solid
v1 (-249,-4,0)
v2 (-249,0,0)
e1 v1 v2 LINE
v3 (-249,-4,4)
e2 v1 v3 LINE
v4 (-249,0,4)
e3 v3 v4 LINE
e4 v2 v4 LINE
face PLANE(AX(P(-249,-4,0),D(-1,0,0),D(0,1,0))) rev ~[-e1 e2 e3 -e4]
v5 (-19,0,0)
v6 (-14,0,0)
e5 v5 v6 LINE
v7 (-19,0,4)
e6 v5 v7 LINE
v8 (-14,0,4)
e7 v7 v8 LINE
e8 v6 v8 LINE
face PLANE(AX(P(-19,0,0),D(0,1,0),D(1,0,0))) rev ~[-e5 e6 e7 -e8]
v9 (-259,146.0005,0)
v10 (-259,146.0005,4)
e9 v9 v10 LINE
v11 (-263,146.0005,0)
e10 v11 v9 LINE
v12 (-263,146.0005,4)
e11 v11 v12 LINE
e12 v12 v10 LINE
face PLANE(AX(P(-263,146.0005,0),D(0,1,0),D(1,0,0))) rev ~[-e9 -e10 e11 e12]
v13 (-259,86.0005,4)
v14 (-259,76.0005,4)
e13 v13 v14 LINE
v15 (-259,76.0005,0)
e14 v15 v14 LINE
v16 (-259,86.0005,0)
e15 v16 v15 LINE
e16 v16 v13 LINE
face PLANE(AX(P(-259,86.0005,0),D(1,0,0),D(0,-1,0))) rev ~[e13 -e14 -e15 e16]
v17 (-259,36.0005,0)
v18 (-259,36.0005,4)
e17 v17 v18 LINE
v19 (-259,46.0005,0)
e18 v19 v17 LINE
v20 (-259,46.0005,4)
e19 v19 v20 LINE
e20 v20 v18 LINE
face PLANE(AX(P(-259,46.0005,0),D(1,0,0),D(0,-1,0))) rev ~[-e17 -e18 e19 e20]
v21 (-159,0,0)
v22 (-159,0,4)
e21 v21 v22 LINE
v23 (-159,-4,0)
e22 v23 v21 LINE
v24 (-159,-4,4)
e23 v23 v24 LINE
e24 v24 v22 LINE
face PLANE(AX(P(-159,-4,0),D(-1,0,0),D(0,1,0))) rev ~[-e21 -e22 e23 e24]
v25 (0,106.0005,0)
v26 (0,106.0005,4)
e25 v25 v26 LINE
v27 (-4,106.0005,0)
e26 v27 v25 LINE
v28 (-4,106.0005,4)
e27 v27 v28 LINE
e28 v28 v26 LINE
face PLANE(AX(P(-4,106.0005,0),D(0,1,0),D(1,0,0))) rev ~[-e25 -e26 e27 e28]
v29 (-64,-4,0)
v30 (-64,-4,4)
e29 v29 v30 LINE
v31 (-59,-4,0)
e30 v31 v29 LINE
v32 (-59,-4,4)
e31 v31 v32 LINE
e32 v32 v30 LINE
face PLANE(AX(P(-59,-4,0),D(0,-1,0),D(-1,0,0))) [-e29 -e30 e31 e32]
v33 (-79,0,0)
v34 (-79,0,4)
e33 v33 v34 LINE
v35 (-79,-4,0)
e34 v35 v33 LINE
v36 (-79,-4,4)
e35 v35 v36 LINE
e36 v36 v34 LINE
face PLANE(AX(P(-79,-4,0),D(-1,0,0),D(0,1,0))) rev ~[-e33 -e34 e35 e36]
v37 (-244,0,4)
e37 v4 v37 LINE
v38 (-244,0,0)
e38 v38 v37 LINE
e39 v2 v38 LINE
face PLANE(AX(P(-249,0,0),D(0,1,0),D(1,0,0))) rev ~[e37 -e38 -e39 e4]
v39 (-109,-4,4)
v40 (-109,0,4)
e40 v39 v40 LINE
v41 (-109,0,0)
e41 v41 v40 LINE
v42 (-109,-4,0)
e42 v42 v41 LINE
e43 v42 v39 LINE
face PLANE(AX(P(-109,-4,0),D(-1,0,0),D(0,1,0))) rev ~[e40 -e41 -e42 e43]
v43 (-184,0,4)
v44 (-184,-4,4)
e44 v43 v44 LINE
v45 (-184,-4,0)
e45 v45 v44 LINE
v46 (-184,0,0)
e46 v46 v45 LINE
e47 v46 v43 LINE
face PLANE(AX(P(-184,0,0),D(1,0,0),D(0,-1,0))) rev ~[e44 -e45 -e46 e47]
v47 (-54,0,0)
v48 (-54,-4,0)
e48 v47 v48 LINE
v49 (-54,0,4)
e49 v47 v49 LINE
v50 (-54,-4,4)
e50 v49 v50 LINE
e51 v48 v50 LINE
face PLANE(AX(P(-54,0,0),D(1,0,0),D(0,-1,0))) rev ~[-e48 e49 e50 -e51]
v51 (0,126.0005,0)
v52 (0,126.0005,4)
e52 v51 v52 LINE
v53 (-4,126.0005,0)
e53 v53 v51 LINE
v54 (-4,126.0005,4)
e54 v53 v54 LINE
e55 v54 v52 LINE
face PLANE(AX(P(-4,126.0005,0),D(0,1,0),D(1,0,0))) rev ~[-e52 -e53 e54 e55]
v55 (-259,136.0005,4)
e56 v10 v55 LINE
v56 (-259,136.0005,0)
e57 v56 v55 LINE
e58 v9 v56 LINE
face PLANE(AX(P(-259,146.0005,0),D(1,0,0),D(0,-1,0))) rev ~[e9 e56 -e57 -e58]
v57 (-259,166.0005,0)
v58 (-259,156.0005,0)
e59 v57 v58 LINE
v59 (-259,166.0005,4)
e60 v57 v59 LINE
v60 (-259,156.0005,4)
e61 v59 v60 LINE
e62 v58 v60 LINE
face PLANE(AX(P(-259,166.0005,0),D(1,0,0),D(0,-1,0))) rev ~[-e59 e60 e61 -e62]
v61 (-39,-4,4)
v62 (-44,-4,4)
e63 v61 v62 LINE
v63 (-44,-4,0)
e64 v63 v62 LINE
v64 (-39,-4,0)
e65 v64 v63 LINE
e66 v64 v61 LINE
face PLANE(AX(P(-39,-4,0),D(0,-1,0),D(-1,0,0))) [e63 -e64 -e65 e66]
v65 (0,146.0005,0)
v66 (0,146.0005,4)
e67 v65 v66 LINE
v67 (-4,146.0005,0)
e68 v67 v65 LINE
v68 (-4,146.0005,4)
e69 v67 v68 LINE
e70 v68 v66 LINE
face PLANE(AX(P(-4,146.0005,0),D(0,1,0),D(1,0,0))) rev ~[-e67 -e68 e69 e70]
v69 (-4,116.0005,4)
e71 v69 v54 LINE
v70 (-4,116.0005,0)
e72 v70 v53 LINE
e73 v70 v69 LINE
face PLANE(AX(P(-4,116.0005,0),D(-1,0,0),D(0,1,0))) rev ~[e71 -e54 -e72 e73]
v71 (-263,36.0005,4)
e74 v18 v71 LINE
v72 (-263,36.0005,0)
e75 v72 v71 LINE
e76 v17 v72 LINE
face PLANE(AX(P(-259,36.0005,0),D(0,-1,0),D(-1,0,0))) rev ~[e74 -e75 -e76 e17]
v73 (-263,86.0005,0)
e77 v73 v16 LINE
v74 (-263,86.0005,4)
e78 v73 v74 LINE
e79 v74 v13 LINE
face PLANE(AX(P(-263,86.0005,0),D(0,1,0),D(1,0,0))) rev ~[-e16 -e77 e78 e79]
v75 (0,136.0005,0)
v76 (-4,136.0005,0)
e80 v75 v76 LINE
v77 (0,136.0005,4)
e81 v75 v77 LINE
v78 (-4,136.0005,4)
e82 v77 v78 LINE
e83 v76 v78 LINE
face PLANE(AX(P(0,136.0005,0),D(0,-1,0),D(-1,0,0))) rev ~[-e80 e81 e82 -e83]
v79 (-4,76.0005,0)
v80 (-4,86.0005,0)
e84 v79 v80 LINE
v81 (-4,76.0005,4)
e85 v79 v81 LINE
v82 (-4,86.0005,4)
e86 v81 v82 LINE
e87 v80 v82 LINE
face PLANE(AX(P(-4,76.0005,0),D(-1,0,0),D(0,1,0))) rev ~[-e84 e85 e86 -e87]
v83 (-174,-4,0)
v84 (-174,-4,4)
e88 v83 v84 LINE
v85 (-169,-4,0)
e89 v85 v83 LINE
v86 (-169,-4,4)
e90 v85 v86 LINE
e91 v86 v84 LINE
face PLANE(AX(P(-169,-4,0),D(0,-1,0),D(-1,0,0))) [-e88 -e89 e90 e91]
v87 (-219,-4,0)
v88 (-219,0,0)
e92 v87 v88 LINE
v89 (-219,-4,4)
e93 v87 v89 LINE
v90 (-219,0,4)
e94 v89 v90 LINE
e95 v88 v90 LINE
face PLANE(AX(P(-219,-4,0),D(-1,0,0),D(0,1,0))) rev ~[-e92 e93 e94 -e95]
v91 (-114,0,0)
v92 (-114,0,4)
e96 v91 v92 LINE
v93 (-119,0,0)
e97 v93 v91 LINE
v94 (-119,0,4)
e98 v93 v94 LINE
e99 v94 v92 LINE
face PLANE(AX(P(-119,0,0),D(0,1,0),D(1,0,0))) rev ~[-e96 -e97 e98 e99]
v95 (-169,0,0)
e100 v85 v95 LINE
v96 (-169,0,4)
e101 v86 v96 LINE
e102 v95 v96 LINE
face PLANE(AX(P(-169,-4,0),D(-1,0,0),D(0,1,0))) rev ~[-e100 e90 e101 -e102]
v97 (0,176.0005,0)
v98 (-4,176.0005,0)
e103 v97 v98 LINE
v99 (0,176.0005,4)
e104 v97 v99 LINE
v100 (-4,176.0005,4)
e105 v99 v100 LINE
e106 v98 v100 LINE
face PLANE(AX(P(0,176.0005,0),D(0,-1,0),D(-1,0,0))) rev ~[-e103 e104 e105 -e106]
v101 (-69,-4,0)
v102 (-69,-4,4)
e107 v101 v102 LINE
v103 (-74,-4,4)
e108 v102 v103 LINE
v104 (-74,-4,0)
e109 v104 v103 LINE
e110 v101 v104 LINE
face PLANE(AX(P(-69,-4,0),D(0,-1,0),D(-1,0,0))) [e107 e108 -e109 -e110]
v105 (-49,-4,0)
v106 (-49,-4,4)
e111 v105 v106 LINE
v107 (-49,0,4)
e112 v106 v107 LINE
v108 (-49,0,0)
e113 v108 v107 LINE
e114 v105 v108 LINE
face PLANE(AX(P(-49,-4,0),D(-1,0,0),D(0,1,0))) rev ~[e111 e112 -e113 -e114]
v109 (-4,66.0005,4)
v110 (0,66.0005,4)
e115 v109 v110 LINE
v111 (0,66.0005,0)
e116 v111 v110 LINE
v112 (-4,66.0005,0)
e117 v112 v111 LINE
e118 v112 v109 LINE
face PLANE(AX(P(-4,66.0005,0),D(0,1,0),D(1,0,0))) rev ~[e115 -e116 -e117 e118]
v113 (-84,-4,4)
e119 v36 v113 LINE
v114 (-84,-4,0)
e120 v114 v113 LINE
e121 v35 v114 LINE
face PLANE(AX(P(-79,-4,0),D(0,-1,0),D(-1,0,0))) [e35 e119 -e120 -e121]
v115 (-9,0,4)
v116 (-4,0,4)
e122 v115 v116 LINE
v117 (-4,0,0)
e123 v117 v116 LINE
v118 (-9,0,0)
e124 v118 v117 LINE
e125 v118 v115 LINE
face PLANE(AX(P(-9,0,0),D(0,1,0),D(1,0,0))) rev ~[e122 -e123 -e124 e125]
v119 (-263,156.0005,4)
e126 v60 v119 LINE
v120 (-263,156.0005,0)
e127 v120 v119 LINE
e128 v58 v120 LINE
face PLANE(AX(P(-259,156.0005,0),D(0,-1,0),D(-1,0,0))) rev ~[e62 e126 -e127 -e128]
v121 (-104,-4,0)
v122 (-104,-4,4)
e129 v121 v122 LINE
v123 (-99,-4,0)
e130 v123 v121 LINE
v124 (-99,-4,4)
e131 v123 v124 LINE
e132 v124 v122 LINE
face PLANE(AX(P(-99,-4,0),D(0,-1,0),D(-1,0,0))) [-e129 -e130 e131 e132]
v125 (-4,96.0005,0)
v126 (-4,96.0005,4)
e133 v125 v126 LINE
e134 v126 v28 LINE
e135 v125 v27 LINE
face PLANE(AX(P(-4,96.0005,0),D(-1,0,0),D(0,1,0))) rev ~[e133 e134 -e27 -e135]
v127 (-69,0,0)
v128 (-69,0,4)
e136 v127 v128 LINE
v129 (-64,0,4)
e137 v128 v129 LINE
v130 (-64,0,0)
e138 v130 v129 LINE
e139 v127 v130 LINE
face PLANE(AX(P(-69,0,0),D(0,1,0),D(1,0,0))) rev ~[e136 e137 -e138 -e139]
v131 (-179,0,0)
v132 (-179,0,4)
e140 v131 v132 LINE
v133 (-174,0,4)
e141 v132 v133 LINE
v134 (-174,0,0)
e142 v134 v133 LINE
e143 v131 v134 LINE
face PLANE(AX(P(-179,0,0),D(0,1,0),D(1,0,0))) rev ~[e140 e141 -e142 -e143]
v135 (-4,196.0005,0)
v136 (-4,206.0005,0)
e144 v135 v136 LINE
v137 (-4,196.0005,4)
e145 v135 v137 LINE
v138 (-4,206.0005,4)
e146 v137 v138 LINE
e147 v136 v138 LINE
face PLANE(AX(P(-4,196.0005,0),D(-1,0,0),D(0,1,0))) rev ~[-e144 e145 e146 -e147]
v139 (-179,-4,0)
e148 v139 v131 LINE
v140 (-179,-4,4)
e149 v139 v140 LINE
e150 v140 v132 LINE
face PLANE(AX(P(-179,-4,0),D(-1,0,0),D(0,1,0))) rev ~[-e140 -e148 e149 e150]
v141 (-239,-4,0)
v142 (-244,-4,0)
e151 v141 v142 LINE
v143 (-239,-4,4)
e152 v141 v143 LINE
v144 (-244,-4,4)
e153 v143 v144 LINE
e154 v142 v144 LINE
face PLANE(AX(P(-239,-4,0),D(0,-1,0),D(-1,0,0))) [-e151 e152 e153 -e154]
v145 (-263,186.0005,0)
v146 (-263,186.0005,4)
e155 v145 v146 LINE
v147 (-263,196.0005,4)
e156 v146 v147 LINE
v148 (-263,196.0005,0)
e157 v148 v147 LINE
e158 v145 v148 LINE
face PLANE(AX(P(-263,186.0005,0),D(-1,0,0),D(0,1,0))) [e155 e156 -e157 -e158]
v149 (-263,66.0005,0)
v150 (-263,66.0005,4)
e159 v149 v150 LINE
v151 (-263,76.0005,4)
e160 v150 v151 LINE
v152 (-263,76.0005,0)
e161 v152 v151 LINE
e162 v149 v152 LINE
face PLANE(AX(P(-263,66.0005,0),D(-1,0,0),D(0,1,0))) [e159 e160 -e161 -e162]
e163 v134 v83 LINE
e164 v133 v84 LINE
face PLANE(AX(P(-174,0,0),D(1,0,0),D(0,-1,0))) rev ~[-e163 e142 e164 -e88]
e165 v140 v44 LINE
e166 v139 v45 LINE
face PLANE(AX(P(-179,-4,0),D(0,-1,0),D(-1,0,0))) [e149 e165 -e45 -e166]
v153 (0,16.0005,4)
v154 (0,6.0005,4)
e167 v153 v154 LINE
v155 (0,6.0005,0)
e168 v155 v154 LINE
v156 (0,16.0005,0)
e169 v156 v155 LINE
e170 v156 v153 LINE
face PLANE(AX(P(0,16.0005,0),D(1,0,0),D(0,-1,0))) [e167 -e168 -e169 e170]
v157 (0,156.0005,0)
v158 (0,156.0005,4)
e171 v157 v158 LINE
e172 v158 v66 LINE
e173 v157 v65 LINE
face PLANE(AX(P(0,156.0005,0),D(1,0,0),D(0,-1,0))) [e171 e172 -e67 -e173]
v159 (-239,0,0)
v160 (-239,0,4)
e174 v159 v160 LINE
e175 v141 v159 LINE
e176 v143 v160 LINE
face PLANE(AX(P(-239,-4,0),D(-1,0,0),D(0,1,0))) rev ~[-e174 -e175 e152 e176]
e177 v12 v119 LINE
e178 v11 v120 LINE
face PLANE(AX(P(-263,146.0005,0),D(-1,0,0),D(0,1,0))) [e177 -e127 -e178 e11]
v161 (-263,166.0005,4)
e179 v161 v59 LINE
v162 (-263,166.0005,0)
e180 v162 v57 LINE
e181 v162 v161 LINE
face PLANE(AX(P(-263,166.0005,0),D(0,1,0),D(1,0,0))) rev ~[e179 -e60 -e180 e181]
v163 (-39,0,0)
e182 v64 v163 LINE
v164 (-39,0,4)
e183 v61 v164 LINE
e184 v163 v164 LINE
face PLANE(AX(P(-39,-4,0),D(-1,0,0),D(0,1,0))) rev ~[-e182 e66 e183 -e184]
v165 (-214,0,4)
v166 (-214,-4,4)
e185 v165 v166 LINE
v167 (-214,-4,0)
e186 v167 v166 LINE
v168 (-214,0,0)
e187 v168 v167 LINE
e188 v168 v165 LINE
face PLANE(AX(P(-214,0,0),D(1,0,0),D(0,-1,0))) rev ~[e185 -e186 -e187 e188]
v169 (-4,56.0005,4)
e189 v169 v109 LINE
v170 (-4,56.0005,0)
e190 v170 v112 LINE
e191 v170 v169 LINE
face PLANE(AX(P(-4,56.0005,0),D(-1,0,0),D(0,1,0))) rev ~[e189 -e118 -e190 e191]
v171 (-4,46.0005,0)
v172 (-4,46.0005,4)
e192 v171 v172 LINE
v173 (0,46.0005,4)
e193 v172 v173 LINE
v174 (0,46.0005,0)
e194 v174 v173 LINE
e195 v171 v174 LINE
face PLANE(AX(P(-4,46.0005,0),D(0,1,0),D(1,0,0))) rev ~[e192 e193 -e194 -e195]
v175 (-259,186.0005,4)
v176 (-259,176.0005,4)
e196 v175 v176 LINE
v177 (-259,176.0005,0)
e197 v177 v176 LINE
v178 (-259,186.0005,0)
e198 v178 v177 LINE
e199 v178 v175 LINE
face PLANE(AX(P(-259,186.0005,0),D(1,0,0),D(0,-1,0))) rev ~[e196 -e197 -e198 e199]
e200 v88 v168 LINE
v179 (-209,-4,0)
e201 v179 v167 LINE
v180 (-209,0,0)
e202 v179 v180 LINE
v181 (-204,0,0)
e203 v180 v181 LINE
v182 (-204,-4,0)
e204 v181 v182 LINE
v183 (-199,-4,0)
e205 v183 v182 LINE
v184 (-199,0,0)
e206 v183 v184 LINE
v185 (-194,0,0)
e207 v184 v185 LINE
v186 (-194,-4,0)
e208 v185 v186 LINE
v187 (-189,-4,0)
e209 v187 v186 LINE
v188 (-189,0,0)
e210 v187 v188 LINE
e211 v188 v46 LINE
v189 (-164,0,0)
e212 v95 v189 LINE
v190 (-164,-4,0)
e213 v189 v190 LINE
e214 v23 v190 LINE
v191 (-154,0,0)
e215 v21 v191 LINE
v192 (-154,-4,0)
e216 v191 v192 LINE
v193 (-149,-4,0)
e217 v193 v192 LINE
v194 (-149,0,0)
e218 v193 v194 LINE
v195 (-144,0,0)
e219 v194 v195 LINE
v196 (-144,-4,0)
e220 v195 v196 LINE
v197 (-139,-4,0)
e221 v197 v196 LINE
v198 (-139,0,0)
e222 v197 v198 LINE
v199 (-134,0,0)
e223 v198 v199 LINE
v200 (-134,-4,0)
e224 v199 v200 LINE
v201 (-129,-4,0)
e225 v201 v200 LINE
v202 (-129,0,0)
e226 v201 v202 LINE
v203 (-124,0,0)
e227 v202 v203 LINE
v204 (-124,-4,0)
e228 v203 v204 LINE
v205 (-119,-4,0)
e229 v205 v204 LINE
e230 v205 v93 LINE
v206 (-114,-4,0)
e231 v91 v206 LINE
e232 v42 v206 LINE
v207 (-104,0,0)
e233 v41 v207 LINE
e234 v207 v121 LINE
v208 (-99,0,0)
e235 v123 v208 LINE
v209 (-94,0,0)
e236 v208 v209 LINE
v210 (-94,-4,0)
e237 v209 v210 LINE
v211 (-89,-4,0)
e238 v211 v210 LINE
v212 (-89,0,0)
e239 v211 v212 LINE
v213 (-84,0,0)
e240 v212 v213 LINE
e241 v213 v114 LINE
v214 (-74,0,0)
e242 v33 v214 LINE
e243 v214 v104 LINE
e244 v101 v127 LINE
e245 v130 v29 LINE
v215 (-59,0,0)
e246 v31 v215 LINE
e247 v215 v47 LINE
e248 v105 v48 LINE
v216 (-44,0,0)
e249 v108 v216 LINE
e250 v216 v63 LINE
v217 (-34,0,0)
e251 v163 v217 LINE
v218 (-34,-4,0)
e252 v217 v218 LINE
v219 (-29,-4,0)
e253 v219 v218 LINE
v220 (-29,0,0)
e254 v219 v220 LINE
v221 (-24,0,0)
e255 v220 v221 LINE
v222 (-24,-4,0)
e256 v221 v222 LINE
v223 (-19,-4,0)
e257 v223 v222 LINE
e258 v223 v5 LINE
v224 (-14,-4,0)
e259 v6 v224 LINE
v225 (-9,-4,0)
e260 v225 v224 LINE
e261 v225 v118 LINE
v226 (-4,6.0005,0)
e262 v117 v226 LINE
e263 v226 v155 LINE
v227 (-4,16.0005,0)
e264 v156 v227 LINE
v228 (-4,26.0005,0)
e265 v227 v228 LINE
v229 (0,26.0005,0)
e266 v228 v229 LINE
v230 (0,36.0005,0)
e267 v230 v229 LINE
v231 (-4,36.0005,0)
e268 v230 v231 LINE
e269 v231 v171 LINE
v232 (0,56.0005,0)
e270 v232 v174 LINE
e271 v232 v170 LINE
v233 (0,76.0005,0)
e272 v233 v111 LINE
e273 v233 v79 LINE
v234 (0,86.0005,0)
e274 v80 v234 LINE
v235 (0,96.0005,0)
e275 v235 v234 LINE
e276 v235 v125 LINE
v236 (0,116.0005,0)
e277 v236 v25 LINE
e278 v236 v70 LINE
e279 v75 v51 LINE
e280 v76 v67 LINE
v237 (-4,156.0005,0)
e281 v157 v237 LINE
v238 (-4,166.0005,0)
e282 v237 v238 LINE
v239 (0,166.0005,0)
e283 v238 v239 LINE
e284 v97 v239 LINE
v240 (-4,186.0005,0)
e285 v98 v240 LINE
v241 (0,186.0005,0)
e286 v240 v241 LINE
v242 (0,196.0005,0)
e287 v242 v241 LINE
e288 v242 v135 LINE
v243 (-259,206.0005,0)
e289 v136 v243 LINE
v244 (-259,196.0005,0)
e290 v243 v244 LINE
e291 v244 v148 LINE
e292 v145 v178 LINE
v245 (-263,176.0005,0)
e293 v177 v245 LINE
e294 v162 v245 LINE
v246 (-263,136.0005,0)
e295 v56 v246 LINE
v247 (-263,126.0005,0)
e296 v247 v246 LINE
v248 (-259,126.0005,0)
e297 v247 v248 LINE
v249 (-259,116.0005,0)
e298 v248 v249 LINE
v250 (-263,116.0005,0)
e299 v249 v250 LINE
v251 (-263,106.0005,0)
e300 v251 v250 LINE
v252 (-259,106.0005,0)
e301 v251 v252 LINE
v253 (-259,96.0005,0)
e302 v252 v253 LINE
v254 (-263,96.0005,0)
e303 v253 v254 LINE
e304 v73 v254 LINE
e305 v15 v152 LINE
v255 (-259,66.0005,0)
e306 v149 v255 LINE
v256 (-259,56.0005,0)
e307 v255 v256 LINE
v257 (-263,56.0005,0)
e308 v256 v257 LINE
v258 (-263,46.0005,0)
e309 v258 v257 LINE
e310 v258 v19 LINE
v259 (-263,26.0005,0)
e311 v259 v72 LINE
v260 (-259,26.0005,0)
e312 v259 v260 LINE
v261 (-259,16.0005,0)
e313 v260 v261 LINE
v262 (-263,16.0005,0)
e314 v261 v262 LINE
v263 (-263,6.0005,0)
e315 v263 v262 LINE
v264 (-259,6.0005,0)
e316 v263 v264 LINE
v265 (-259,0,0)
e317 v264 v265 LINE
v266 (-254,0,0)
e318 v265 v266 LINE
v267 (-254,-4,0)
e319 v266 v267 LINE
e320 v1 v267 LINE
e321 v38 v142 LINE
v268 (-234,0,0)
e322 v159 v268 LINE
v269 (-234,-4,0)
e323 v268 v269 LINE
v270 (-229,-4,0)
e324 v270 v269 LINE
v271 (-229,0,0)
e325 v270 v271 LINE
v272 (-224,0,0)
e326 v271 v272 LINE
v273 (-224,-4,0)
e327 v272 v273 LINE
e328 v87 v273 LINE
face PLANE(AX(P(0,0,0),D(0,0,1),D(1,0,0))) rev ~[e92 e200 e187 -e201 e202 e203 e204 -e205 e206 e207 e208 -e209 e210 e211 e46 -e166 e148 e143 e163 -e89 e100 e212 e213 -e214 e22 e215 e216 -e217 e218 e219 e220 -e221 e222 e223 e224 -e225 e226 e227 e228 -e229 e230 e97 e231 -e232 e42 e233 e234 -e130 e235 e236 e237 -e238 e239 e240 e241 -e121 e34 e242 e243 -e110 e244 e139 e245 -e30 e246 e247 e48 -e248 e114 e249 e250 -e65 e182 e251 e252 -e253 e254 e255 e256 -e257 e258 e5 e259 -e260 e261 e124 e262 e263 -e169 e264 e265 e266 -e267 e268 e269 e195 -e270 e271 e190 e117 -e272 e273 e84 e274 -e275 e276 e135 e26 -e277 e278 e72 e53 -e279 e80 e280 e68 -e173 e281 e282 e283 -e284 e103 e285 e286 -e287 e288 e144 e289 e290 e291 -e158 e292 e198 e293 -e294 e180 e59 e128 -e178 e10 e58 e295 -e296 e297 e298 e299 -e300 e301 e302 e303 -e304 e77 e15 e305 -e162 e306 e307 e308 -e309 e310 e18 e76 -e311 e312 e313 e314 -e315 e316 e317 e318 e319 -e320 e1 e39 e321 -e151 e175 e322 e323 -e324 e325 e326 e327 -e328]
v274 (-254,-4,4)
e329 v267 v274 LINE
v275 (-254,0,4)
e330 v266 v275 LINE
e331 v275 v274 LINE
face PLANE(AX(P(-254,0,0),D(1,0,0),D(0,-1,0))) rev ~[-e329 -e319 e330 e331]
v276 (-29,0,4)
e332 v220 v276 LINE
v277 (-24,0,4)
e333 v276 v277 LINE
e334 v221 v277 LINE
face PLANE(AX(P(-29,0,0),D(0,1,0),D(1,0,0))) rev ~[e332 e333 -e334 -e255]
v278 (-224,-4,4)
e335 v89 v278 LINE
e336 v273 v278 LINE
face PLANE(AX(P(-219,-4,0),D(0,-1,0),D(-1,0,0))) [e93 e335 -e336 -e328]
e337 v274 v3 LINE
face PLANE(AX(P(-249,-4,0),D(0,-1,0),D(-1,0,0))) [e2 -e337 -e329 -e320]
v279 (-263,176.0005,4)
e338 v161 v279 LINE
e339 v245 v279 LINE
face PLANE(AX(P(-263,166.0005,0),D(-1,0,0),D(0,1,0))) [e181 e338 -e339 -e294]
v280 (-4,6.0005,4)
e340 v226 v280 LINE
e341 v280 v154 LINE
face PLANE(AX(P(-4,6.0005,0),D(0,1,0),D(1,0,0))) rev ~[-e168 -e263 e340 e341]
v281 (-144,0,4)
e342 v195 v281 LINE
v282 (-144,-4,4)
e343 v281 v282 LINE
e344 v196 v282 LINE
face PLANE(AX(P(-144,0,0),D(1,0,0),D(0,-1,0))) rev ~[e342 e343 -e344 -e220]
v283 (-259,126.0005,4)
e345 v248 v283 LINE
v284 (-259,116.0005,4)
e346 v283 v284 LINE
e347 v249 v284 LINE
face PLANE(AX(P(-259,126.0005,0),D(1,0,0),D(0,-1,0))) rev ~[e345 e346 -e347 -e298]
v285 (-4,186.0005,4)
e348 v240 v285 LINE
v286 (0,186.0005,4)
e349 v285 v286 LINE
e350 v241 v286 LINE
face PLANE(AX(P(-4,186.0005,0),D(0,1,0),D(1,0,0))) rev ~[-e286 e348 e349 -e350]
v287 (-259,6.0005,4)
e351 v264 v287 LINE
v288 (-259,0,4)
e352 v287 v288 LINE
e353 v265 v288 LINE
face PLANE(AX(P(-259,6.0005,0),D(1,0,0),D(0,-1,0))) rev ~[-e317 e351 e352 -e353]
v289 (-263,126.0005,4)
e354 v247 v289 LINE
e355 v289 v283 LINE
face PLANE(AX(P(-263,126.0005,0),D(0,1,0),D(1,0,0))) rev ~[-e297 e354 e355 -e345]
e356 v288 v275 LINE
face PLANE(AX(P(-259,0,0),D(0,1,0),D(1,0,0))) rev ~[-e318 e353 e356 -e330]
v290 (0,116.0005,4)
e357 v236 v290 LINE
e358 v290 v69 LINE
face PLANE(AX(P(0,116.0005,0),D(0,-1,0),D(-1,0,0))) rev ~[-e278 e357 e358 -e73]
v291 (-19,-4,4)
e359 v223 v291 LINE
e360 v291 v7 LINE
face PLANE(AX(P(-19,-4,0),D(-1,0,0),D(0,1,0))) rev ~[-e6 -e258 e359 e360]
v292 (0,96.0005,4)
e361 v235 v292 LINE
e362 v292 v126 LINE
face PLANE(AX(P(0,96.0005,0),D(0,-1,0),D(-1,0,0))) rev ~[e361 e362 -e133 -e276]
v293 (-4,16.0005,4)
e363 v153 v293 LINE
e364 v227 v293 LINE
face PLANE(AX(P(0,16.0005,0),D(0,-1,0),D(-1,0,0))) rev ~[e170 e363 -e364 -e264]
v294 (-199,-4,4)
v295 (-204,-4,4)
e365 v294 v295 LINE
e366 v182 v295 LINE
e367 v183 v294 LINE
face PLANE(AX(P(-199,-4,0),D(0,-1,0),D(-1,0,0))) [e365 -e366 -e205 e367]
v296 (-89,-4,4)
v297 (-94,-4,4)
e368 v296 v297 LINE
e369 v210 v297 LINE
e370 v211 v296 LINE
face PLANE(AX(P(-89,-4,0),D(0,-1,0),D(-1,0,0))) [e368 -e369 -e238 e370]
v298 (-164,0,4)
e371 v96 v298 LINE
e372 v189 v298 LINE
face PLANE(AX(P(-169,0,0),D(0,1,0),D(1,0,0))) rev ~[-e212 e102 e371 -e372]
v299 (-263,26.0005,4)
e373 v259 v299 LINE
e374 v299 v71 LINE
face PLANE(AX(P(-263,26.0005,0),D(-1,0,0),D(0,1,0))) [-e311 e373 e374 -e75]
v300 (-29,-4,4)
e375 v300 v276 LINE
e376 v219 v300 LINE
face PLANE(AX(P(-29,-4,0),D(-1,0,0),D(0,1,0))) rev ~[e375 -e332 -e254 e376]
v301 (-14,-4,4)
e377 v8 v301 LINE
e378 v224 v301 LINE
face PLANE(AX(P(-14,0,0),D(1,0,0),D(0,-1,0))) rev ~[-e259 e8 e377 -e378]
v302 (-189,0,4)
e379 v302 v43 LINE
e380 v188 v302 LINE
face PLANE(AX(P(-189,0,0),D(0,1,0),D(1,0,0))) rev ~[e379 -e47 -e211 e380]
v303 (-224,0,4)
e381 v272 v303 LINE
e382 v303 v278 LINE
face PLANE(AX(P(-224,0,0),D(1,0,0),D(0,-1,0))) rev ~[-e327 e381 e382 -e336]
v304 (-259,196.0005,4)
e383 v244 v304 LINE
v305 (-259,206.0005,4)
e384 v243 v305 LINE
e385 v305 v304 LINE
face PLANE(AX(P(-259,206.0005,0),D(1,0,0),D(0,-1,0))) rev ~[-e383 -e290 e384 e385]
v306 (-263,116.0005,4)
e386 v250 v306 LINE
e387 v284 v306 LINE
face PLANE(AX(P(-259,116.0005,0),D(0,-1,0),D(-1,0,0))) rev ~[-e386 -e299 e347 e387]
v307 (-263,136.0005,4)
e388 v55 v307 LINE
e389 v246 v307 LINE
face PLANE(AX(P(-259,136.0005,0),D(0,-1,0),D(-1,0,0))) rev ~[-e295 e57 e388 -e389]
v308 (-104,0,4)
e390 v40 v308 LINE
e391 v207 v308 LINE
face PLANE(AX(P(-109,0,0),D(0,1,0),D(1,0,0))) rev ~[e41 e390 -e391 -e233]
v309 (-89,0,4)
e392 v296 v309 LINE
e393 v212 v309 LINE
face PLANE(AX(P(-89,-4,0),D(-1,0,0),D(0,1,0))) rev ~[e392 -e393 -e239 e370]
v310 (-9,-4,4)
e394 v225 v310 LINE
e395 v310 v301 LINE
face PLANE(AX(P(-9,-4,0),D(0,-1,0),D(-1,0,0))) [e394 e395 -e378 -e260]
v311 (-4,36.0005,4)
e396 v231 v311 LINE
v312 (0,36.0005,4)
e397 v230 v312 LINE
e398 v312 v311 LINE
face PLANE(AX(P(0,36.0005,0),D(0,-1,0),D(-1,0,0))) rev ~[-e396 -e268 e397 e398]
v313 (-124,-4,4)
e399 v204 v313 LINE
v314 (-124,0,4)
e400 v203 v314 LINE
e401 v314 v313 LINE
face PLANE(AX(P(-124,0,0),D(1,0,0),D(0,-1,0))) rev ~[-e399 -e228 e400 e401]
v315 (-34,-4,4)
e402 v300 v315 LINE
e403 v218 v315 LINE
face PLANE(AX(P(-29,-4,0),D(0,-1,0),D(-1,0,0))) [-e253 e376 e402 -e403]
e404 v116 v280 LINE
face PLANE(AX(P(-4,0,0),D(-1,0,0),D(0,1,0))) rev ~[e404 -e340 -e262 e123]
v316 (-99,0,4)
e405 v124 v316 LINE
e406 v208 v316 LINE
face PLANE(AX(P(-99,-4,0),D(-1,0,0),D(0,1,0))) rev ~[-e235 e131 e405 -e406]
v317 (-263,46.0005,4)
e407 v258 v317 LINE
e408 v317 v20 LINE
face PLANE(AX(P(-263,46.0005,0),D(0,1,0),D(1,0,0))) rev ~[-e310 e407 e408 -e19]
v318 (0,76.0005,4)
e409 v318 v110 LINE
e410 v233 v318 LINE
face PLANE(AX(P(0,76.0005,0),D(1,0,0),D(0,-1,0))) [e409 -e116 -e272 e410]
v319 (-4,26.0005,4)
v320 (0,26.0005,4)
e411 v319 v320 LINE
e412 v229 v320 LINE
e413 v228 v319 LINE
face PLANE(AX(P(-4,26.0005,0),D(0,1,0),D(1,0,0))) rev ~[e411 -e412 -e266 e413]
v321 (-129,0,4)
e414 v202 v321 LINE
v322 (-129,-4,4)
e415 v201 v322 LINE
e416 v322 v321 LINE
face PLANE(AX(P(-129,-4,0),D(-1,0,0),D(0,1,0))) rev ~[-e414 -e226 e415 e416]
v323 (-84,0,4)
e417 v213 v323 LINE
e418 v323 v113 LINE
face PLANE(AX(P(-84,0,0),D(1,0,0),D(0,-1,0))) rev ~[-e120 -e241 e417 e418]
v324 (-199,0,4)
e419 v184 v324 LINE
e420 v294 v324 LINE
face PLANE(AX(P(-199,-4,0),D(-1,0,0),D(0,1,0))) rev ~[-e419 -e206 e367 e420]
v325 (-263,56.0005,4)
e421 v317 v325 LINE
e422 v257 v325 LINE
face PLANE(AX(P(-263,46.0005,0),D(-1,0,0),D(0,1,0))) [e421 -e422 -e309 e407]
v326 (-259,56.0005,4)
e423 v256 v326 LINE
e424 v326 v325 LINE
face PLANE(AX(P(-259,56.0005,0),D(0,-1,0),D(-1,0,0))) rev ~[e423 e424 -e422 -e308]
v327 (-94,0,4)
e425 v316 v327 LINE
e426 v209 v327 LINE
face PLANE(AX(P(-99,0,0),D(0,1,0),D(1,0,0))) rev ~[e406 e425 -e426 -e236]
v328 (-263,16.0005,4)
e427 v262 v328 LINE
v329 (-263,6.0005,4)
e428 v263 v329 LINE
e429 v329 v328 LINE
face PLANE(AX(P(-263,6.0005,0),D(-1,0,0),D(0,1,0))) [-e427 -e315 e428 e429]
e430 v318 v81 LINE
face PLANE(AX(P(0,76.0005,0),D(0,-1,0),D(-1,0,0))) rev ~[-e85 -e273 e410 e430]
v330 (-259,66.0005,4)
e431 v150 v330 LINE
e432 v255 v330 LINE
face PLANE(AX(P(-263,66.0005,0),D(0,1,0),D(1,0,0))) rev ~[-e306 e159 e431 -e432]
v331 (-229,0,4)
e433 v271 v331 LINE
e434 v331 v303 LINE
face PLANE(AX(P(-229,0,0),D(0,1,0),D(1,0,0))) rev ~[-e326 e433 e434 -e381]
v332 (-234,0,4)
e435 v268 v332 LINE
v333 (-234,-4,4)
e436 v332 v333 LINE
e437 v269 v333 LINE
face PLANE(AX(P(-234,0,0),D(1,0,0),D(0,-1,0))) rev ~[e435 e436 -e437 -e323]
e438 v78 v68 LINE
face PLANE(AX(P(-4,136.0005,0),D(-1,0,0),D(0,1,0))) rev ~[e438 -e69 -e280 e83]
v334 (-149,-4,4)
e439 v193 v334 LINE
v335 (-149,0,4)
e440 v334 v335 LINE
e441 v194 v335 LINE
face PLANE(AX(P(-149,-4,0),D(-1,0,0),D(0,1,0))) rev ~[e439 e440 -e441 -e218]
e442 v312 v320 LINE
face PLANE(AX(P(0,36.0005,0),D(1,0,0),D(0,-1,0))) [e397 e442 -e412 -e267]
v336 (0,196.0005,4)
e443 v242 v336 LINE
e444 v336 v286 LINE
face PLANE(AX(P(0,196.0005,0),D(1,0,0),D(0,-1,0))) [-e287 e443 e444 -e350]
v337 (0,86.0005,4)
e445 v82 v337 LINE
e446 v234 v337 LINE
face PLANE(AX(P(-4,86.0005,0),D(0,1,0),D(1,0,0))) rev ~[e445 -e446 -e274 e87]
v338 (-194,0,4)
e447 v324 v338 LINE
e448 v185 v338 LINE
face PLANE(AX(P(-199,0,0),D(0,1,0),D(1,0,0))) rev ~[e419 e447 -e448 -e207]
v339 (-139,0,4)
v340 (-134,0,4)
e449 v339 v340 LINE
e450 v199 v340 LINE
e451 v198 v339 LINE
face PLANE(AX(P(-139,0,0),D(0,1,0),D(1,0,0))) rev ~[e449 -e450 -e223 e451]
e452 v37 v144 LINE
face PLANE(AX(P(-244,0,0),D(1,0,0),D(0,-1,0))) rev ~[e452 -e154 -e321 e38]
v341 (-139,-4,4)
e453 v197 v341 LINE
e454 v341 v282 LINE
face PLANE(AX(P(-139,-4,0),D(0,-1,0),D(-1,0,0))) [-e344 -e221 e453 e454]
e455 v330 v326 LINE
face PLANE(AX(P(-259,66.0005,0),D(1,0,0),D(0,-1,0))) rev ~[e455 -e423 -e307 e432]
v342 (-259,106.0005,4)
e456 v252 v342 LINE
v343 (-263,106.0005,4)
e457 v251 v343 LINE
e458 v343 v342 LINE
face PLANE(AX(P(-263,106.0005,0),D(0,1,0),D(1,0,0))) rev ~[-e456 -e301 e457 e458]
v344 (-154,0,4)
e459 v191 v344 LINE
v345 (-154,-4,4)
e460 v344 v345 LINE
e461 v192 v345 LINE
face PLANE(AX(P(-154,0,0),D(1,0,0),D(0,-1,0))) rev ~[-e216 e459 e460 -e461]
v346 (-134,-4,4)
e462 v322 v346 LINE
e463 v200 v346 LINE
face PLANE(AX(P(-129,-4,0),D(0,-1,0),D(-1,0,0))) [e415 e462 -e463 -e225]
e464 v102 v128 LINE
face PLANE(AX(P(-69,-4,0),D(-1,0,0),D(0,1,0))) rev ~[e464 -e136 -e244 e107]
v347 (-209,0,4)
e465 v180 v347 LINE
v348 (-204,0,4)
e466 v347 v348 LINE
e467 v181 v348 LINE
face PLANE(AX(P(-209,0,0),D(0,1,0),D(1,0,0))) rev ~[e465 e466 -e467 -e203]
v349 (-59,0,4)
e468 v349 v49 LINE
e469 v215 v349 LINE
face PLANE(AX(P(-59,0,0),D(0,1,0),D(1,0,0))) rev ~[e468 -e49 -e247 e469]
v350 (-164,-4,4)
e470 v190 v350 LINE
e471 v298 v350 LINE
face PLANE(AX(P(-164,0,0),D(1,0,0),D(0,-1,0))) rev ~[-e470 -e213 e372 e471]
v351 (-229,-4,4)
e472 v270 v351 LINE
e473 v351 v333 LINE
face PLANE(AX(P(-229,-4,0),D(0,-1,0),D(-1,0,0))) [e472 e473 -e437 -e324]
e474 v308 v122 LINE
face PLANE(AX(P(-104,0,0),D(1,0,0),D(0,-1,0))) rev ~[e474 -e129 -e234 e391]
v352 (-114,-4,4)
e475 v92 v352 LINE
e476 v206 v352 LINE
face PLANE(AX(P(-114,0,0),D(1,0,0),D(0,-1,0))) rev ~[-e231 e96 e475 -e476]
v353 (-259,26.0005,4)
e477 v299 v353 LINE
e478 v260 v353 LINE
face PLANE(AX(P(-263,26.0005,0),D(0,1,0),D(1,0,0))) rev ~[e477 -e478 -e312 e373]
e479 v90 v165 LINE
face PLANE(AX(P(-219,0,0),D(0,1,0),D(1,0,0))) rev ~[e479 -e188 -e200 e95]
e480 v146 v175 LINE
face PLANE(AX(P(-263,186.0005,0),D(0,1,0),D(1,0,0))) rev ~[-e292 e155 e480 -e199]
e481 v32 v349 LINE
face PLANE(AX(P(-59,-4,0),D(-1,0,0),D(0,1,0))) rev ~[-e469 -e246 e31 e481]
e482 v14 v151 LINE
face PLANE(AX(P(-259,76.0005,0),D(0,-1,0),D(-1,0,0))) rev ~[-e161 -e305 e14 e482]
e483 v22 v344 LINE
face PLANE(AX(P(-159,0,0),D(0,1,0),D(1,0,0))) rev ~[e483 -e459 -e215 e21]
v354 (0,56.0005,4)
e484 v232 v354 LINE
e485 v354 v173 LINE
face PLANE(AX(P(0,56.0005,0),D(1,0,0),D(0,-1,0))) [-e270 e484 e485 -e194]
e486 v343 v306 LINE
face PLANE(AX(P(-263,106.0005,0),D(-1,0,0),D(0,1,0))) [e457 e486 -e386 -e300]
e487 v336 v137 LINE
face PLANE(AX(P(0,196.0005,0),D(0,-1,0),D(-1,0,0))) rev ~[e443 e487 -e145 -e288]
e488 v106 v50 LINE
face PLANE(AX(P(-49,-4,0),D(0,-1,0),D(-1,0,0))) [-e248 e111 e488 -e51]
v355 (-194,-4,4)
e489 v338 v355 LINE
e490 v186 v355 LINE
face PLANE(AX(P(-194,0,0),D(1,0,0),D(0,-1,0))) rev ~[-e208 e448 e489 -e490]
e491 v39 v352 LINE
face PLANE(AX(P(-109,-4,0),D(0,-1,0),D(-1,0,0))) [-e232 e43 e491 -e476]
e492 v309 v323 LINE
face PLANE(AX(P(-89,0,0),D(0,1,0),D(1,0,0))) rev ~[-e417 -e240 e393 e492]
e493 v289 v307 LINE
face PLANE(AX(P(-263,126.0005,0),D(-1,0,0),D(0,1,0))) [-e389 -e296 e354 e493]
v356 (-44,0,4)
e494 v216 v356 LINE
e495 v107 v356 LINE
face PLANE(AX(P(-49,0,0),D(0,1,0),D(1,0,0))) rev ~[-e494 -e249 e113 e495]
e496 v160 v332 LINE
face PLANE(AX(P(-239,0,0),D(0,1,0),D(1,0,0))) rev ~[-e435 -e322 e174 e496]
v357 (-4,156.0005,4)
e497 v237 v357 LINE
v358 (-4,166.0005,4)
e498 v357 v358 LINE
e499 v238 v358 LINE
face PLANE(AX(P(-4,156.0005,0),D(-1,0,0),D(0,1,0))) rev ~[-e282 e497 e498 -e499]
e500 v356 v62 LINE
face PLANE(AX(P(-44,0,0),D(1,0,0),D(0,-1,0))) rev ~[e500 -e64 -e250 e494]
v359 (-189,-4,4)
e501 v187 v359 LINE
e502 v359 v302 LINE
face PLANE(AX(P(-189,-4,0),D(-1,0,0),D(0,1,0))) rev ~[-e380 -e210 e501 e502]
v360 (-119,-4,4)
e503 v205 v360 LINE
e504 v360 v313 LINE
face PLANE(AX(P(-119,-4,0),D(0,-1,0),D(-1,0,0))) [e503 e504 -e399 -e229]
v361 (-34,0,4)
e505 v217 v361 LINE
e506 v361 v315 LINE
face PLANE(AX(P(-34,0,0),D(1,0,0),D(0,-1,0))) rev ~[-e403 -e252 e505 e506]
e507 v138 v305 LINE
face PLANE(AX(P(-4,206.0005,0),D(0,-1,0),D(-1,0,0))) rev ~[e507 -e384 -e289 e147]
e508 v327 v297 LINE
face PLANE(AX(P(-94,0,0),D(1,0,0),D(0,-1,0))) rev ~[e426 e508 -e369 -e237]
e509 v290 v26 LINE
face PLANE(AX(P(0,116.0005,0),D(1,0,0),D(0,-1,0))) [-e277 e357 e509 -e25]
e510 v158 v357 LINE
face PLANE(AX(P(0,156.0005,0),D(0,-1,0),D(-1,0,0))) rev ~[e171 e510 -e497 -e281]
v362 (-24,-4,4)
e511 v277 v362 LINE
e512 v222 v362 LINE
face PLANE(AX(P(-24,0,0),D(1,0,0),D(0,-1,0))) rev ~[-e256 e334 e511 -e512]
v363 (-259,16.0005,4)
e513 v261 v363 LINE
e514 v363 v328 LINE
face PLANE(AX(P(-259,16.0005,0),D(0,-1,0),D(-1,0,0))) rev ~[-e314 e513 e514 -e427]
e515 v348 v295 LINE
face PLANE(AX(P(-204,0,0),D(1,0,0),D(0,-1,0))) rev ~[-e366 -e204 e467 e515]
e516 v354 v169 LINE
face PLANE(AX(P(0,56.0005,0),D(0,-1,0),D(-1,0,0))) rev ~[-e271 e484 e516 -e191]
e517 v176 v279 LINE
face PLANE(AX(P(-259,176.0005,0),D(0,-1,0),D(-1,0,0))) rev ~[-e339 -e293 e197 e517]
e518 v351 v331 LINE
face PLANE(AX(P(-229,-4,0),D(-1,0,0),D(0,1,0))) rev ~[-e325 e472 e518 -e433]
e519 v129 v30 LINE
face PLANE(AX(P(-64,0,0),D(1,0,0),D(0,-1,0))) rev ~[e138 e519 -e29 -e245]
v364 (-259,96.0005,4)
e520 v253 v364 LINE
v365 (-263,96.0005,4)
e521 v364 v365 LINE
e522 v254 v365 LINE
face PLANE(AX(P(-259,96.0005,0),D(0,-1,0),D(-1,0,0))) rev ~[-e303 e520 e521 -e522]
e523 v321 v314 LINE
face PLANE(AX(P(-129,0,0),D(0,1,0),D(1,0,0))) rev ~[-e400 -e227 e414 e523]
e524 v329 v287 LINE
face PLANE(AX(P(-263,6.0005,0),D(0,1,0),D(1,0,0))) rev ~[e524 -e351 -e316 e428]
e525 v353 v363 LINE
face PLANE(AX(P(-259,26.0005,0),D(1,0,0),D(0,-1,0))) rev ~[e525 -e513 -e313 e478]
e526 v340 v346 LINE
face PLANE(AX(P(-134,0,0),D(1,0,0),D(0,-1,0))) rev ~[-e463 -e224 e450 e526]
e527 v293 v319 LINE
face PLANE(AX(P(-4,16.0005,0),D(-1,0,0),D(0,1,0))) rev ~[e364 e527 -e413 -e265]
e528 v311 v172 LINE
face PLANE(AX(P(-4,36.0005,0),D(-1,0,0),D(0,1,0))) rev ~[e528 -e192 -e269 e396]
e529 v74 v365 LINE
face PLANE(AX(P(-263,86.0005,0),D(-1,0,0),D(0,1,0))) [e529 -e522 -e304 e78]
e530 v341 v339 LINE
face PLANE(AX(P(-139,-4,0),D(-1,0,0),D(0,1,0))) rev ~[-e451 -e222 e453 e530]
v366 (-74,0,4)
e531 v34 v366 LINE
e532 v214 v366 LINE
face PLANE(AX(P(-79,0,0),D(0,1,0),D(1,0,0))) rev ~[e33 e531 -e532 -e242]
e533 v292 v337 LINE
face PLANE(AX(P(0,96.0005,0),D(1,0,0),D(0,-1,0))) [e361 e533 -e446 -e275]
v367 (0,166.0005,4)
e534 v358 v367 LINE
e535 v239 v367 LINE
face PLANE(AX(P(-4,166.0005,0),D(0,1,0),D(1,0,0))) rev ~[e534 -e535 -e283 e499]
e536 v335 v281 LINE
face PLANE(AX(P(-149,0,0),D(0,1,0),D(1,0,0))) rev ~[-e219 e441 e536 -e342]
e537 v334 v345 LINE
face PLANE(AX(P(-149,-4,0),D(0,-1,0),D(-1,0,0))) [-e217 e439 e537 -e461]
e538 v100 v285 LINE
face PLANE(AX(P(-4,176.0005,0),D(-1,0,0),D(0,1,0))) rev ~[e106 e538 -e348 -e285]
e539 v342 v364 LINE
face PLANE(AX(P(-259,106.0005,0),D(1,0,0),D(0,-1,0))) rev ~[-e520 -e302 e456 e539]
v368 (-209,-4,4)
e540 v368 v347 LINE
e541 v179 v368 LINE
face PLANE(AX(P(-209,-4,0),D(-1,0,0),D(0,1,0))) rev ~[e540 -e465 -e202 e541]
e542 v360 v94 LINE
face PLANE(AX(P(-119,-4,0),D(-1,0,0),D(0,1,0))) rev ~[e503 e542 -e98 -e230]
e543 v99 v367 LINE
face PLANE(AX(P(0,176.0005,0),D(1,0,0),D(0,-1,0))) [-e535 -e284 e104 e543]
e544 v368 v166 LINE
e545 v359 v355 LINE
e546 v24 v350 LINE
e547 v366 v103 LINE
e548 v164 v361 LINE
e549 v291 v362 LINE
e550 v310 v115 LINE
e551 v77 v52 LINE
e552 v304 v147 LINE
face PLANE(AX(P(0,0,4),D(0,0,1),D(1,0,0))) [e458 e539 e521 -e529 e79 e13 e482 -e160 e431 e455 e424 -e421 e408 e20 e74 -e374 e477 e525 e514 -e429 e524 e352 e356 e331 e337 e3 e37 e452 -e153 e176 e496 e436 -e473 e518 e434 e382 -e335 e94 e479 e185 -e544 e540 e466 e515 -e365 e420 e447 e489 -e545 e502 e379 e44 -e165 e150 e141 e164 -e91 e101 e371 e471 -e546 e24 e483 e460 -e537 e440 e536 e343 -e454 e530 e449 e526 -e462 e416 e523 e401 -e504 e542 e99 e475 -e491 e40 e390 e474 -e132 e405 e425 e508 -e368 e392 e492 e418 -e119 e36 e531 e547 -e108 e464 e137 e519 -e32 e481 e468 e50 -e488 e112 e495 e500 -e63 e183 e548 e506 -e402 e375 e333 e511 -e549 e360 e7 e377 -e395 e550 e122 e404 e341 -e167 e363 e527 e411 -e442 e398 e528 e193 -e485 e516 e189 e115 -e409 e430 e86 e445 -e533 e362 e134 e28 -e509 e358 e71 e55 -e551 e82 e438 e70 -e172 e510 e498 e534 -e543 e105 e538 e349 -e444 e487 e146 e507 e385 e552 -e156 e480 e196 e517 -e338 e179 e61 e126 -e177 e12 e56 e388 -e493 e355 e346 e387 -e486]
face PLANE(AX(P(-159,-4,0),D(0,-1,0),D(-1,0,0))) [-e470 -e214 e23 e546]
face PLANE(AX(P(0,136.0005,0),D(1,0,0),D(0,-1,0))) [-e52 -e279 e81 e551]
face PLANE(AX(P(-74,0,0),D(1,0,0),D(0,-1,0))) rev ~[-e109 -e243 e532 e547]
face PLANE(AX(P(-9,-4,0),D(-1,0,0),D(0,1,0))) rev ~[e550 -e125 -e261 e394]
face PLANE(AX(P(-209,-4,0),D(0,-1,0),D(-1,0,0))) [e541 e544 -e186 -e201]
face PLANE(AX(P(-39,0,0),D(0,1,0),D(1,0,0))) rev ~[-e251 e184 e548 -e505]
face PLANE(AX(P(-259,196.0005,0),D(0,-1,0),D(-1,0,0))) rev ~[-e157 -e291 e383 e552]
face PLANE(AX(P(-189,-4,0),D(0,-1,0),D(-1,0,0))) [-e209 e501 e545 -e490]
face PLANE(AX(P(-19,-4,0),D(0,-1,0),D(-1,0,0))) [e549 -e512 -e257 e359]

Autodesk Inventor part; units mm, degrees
ref_plane "YZ Plane" through (0, 0, 0) normal (1, 0, 0) x (0, 1, 0)
ref_plane "XZ Plane" through (0, 0, 0) normal (0, 1, 0) x (-1, 0, 0)
ref_plane "XY Plane" through (0, 0, 0) normal (0, 0, 1) x (1, 0, 0)
sketch "Эскиз1" plane through (0, 0, 0) normal (0, 0, 1) x (1, 0, 0)
  line L0 (0, 16.0005) -> (-4, 16.0005) projected
  line L1 (-4, 6.0005) -> (-4, 16.0005) projected
  line L2 (-4, 6.0005) -> (0, 6.0005) projected
  line L3 (0, 16.0005) -> (0, 6.0005) projected
  line L4 (0, 36.0005) -> (-4, 36.0005) projected
  line L5 (-4, 26.0005) -> (-4, 36.0005) projected
  line L6 (-4, 26.0005) -> (0, 26.0005) projected
  line L7 (0, 36.0005) -> (0, 26.0005) projected
  line L8 (0, 56.0005) -> (-4, 56.0005) projected
  line L9 (-4, 46.0005) -> (-4, 56.0005) projected
  line L10 (-4, 46.0005) -> (0, 46.0005) projected
  line L11 (0, 56.0005) -> (0, 46.0005) projected
  line L12 (0, 196.0005) -> (-4, 196.0005) projected
  line L13 (-4, 186.0005) -> (-4, 196.0005) projected
  line L14 (-4, 186.0005) -> (0, 186.0005) projected
  line L15 (0, 196.0005) -> (0, 186.0005) projected
  line L16 (0, 176.0005) -> (-4, 176.0005) projected
  line L17 (-4, 166.0005) -> (-4, 176.0005) projected
  line L18 (-4, 166.0005) -> (0, 166.0005) projected
  line L19 (0, 176.0005) -> (0, 166.0005) projected
  line L20 (0, 156.0005) -> (-4, 156.0005) projected
  line L21 (-4, 146.0005) -> (-4, 156.0005) projected
  line L22 (-4, 146.0005) -> (0, 146.0005) projected
  line L23 (0, 156.0005) -> (0, 146.0005) projected
  line L24 (0, 116.0005) -> (-4, 116.0005) projected
  line L25 (-4, 106.0005) -> (-4, 116.0005) projected
  line L26 (-4, 106.0005) -> (0, 106.0005) projected
  line L27 (0, 116.0005) -> (0, 106.0005) projected
  line L28 (0, 136.0005) -> (-4, 136.0005) projected
  line L29 (-4, 126.0005) -> (-4, 136.0005) projected
  line L30 (-4, 126.0005) -> (0, 126.0005) projected
  line L31 (0, 136.0005) -> (0, 126.0005) projected
  line L32 (0, 96.0005) -> (-4, 96.0005) projected
  line L33 (-4, 86.0005) -> (-4, 96.0005) projected
  line L34 (-4, 86.0005) -> (0, 86.0005) projected
  line L35 (0, 96.0005) -> (0, 86.0005) projected
  line L36 (0, 76.0005) -> (-4, 76.0005) projected
  line L37 (-4, 66.0005) -> (-4, 76.0005) projected
  line L38 (-4, 66.0005) -> (0, 66.0005) projected
  line L39 (0, 76.0005) -> (0, 66.0005) projected
  line L40 (-194, 0) -> (-194, -4) projected
  line L41 (-189, -4) -> (-194, -4) projected
  line L42 (-189, -4) -> (-189, 0) projected
  line L43 (-194, 0) -> (-189, 0) projected
  line L44 (-184, 0) -> (-184, -4) projected
  line L45 (-179, -4) -> (-184, -4) projected
  line L46 (-179, -4) -> (-179, 0) projected
  line L47 (-184, 0) -> (-179, 0) projected
  line L48 (-174, 0) -> (-174, -4) projected
  line L49 (-169, -4) -> (-174, -4) projected
  line L50 (-169, -4) -> (-169, 0) projected
  line L51 (-174, 0) -> (-169, 0) projected
  line L52 (-164, 0) -> (-164, -4) projected
  line L53 (-159, -4) -> (-164, -4) projected
  line L54 (-159, -4) -> (-159, 0) projected
  line L55 (-164, 0) -> (-159, 0) projected
  line L56 (-154, 0) -> (-154, -4) projected
  line L57 (-149, -4) -> (-154, -4) projected
  line L58 (-149, -4) -> (-149, 0) projected
  line L59 (-154, 0) -> (-149, 0) projected
  line L60 (-144, 0) -> (-144, -4) projected
  line L61 (-139, -4) -> (-144, -4) projected
  line L62 (-139, -4) -> (-139, 0) projected
  line L63 (-144, 0) -> (-139, 0) projected
  line L64 (-14, 0) -> (-14, -4) projected
  line L65 (-9, -4) -> (-14, -4) projected
  line L66 (-9, -4) -> (-9, 0) projected
  line L67 (-14, 0) -> (-9, 0) projected
  line L68 (-24, 0) -> (-24, -4) projected
  line L69 (-19, -4) -> (-24, -4) projected
  line L70 (-19, -4) -> (-19, 0) projected
  line L71 (-24, 0) -> (-19, 0) projected
  line L72 (-95.712, 271.7663) -> (-95.712, 277.9752) projected
  line L73 (-34, 0) -> (-34, -4) projected
  line L74 (-29, -4) -> (-34, -4) projected
  line L75 (-29, -4) -> (-29, 0) projected
  line L76 (-34, 0) -> (-29, 0) projected
  line L77 (-44, 0) -> (-44, -4) projected
  line L78 (-39, -4) -> (-44, -4) projected
  line L79 (-39, -4) -> (-39, 0) projected
  line L80 (-44, 0) -> (-39, 0) projected
  line L81 (-54, 0) -> (-54, -4) projected
  line L82 (-49, -4) -> (-54, -4) projected
  line L83 (-49, -4) -> (-49, 0) projected
  line L84 (-54, 0) -> (-49, 0) projected
  line L85 (-64, 0) -> (-64, -4) projected
  line L86 (-59, -4) -> (-64, -4) projected
  line L87 (-59, -4) -> (-59, 0) projected
  line L88 (-64, 0) -> (-59, 0) projected
  line L89 (-74, 0) -> (-74, -4) projected
  line L90 (-69, -4) -> (-74, -4) projected
  line L91 (-69, -4) -> (-69, 0) projected
  line L92 (-74, 0) -> (-69, 0) projected
  line L93 (-84, 0) -> (-84, -4) projected
  line L94 (-79, -4) -> (-84, -4) projected
  line L95 (-79, -4) -> (-79, 0) projected
  line L96 (-84, 0) -> (-79, 0) projected
  line L97 (-94, 0) -> (-94, -4) projected
  line L98 (-89, -4) -> (-94, -4) projected
  line L99 (-89, -4) -> (-89, 0) projected
  line L100 (-94, 0) -> (-89, 0) projected
  line L101 (-104, 0) -> (-104, -4) projected
  line L102 (-99, -4) -> (-104, -4) projected
  line L103 (-99, -4) -> (-99, 0) projected
  line L104 (-104, 0) -> (-99, 0) projected
  line L105 (-114, 0) -> (-114, -4) projected
  line L106 (-109, -4) -> (-114, -4) projected
  line L107 (-109, -4) -> (-109, 0) projected
  line L108 (-114, 0) -> (-109, 0) projected
  line L109 (-134, 0) -> (-134, -4) projected
  line L110 (-129, -4) -> (-134, -4) projected
  line L111 (-129, -4) -> (-129, 0) projected
  line L112 (-134, 0) -> (-129, 0) projected
  line L113 (-124, 0) -> (-124, -4) projected
  line L114 (-119, -4) -> (-124, -4) projected
  line L115 (-119, -4) -> (-119, 0) projected
  line L116 (-124, 0) -> (-119, 0) projected
  line L117 (-259, 16.0005) -> (-263, 16.0005) projected
  line L118 (-263, 6.0005) -> (-263, 16.0005) projected
  line L119 (-263, 6.0005) -> (-259, 6.0005) projected
  line L120 (-259, 16.0005) -> (-259, 6.0005) projected
  line L121 (-259, 36.0005) -> (-263, 36.0005) projected
  line L122 (-263, 26.0005) -> (-263, 36.0005) projected
  line L123 (-263, 26.0005) -> (-259, 26.0005) projected
  line L124 (-259, 36.0005) -> (-259, 26.0005) projected
  line L125 (-259, 56.0005) -> (-263, 56.0005) projected
  line L126 (-263, 46.0005) -> (-263, 56.0005) projected
  line L127 (-263, 46.0005) -> (-259, 46.0005) projected
  line L128 (-259, 56.0005) -> (-259, 46.0005) projected
  line L129 (-259, 76.0005) -> (-263, 76.0005) projected
  line L130 (-263, 66.0005) -> (-263, 76.0005) projected
  line L131 (-263, 66.0005) -> (-259, 66.0005) projected
  line L132 (-259, 76.0005) -> (-259, 66.0005) projected
  line L133 (-259, 96.0005) -> (-263, 96.0005) projected
  line L134 (-263, 86.0005) -> (-263, 96.0005) projected
  line L135 (-263, 86.0005) -> (-259, 86.0005) projected
  line L136 (-259, 96.0005) -> (-259, 86.0005) projected
  line L137 (-259, 116.0005) -> (-263, 116.0005) projected
  line L138 (-263, 106.0005) -> (-263, 116.0005) projected
  line L139 (-263, 106.0005) -> (-259, 106.0005) projected
  line L140 (-259, 116.0005) -> (-259, 106.0005) projected
  line L141 (-259, 136.0005) -> (-263, 136.0005) projected
  line L142 (-263, 126.0005) -> (-263, 136.0005) projected
  line L143 (-263, 126.0005) -> (-259, 126.0005) projected
  line L144 (-259, 136.0005) -> (-259, 126.0005) projected
  line L145 (-259, 156.0005) -> (-259, 146.0005) projected
  line L146 (-259, 156.0005) -> (-263, 156.0005) projected
  line L147 (-263, 146.0005) -> (-263, 156.0005) projected
  line L148 (-263, 146.0005) -> (-259, 146.0005) projected
  line L149 (-259, 156.0005) -> (-259, 146.0005) projected
  line L150 (-259, 176.0005) -> (-263, 176.0005) projected
  line L151 (-263, 166.0005) -> (-263, 176.0005) projected
  line L152 (-263, 166.0005) -> (-259, 166.0005) projected
  line L153 (-259, 176.0005) -> (-259, 166.0005) projected
  line L154 (-259, 196.0005) -> (-259, 186.0005) projected
  line L155 (-259, 196.0005) -> (-263, 196.0005) projected
  line L156 (-263, 186.0005) -> (-263, 196.0005) projected
  line L157 (-263, 186.0005) -> (-259, 186.0005) projected
  line L158 (-259, 196.0005) -> (-259, 186.0005) projected
  line L159 (-4, 196.0005) -> (-4, 206.0005) projected
  line L160 (-4, 196.0005) -> (0, 196.0005) projected
  line L161 (0, 206.0005) -> (0, 196.0005) projected
  line L162 (-4, 206.0005) -> (0, 206.0005) projected
  line L163 (-263, 196.0005) -> (-263, 206.0005) projected
  line L164 (-259, 206.0005) -> (-259, 196.0005) projected
  line L165 (-4, 206.0005) -> (-259, 206.0005)
  line L166 (-259, 206.0005) -> (-259, 0)
  line L167 (-259, 0) -> (-4, 0)
  line L168 (-4, 0) -> (-4, 206.0005)
  line L169 (-204, 0) -> (-204, -4) projected
  line L170 (-199, -4) -> (-204, -4) projected
  line L171 (-199, -4) -> (-199, 0) projected
  line L172 (-204, 0) -> (-199, 0) projected
  line L173 (-214, 0) -> (-214, -4) projected
  line L174 (-209, -4) -> (-214, -4) projected
  line L175 (-209, -4) -> (-209, 0) projected
  line L176 (-214, 0) -> (-209, 0) projected
  line L177 (-224, 0) -> (-224, -4) projected
  line L178 (-219, -4) -> (-224, -4) projected
  line L179 (-219, -4) -> (-219, 0) projected
  line L180 (-224, 0) -> (-219, 0) projected
  line L181 (-234, 0) -> (-234, -4) projected
  line L182 (-229, -4) -> (-234, -4) projected
  line L183 (-229, -4) -> (-229, 0) projected
  line L184 (-234, 0) -> (-229, 0) projected
  line L185 (-244, 0) -> (-244, -4) projected
  line L186 (-239, -4) -> (-244, -4) projected
  line L187 (-239, -4) -> (-239, 0) projected
  line L188 (-244, 0) -> (-239, 0) projected
  line L189 (-253.5, 0) -> (-253.5, -4)
  line L190 (-254, 0) -> (-254, -4) projected
  line L191 (-249, -4) -> (-254, -4) projected
  line L192 (-249, -4) -> (-249, 0) projected
  line L193 (-254, 0) -> (-249, 0) projected
  point P0 (0, 0)
  point P1 (-259, 66.0005)
  point P2 (-259, 56.0005)
  point P3 (-259, 46.0005)
  point P4 (-259, 36.0005)
  point P5 (-259, 26.0005)
  point P6 (-259, 16.0005)
  point P7 (-259, 6.0005)
  point P8 (-199, 206.0005)
  point P9 (-259, 176.0005)
  point P10 (-259, 156.0005)
  point P11 (-259, 146.0005)
  point P12 (-259, 116.0005)
  point P13 (-259, 106.0005)
  point P14 (-259, 96.0005)
  point P15 (-259, 86.0005)
  point P16 (-259, 76.0005)
extrude "Выдавливание1" add sketch "Эскиз1" along normal blind 4 contours L3 L2 L1 L0 | L1 L168 L167 L67 L71 L76 L80 L84 L88 L92 L96 L100 L104 L108 L116 L112 L63 L59 L55 L51 L47 L43 L166 L120 L124 L128 L132 L136 L140 L144 L145 L153 L154 L164 L165 L159 L13 L17 L21 L29 L25 L33 L37 L9 L5 | L5 L4 L7 L6 | L66 L65 L64 L67 | L9 L8 L11 L10 | L70 L69 L68 L71 | L37 L36 L39 L38 | L75 L74 L73 L76 | L33 L32 L35 L34 | L79 L78 L77 L80 | L25 L24 L27 L26 | L83 L82 L81 L84 | L29 L28 L31 L30 | L87 L86 L85 L88 | L21 L20 L23 L22 | L91 L90 L89 L92 | L17 L16 L19 L18 | L95 L94 L93 L96 | L13 L12 L15 L14 | L99 L98 L97 L100 | L103 L102 L101 L104 | L154 L157 L156 L155 | L107 L106 L105 L108 | L153 L152 L151 L150 | L115 L114 L113 L116 | L145 L148 L147 L146 | L111 L110 L109 L112 | L144 L143 L142 L141 | L62 L61 L60 L63 | L140 L139 L138 L137 | L58 L57 L56 L59 | L136 L135 L134 L133 | L54 L53 L52 L55 | L132 L131 L130 L129 | L50 L49 L48 L51 | L128 L127 L126 L125 | L46 L45 L44 L47 | L124 L123 L122 L121 | L42 L41 L40 L43 | L120 L119 L118 L117 | L171 L170 L169 L167 | L167 L189 L191 L190 | L175 L174 L173 L167 | L167 L192 L191 L189 | L179 L178 L177 L167 | L167 L187 L186 L185 | L183 L182 L181 L167
properties part number "KB33-046-004-016 - Крышка"
